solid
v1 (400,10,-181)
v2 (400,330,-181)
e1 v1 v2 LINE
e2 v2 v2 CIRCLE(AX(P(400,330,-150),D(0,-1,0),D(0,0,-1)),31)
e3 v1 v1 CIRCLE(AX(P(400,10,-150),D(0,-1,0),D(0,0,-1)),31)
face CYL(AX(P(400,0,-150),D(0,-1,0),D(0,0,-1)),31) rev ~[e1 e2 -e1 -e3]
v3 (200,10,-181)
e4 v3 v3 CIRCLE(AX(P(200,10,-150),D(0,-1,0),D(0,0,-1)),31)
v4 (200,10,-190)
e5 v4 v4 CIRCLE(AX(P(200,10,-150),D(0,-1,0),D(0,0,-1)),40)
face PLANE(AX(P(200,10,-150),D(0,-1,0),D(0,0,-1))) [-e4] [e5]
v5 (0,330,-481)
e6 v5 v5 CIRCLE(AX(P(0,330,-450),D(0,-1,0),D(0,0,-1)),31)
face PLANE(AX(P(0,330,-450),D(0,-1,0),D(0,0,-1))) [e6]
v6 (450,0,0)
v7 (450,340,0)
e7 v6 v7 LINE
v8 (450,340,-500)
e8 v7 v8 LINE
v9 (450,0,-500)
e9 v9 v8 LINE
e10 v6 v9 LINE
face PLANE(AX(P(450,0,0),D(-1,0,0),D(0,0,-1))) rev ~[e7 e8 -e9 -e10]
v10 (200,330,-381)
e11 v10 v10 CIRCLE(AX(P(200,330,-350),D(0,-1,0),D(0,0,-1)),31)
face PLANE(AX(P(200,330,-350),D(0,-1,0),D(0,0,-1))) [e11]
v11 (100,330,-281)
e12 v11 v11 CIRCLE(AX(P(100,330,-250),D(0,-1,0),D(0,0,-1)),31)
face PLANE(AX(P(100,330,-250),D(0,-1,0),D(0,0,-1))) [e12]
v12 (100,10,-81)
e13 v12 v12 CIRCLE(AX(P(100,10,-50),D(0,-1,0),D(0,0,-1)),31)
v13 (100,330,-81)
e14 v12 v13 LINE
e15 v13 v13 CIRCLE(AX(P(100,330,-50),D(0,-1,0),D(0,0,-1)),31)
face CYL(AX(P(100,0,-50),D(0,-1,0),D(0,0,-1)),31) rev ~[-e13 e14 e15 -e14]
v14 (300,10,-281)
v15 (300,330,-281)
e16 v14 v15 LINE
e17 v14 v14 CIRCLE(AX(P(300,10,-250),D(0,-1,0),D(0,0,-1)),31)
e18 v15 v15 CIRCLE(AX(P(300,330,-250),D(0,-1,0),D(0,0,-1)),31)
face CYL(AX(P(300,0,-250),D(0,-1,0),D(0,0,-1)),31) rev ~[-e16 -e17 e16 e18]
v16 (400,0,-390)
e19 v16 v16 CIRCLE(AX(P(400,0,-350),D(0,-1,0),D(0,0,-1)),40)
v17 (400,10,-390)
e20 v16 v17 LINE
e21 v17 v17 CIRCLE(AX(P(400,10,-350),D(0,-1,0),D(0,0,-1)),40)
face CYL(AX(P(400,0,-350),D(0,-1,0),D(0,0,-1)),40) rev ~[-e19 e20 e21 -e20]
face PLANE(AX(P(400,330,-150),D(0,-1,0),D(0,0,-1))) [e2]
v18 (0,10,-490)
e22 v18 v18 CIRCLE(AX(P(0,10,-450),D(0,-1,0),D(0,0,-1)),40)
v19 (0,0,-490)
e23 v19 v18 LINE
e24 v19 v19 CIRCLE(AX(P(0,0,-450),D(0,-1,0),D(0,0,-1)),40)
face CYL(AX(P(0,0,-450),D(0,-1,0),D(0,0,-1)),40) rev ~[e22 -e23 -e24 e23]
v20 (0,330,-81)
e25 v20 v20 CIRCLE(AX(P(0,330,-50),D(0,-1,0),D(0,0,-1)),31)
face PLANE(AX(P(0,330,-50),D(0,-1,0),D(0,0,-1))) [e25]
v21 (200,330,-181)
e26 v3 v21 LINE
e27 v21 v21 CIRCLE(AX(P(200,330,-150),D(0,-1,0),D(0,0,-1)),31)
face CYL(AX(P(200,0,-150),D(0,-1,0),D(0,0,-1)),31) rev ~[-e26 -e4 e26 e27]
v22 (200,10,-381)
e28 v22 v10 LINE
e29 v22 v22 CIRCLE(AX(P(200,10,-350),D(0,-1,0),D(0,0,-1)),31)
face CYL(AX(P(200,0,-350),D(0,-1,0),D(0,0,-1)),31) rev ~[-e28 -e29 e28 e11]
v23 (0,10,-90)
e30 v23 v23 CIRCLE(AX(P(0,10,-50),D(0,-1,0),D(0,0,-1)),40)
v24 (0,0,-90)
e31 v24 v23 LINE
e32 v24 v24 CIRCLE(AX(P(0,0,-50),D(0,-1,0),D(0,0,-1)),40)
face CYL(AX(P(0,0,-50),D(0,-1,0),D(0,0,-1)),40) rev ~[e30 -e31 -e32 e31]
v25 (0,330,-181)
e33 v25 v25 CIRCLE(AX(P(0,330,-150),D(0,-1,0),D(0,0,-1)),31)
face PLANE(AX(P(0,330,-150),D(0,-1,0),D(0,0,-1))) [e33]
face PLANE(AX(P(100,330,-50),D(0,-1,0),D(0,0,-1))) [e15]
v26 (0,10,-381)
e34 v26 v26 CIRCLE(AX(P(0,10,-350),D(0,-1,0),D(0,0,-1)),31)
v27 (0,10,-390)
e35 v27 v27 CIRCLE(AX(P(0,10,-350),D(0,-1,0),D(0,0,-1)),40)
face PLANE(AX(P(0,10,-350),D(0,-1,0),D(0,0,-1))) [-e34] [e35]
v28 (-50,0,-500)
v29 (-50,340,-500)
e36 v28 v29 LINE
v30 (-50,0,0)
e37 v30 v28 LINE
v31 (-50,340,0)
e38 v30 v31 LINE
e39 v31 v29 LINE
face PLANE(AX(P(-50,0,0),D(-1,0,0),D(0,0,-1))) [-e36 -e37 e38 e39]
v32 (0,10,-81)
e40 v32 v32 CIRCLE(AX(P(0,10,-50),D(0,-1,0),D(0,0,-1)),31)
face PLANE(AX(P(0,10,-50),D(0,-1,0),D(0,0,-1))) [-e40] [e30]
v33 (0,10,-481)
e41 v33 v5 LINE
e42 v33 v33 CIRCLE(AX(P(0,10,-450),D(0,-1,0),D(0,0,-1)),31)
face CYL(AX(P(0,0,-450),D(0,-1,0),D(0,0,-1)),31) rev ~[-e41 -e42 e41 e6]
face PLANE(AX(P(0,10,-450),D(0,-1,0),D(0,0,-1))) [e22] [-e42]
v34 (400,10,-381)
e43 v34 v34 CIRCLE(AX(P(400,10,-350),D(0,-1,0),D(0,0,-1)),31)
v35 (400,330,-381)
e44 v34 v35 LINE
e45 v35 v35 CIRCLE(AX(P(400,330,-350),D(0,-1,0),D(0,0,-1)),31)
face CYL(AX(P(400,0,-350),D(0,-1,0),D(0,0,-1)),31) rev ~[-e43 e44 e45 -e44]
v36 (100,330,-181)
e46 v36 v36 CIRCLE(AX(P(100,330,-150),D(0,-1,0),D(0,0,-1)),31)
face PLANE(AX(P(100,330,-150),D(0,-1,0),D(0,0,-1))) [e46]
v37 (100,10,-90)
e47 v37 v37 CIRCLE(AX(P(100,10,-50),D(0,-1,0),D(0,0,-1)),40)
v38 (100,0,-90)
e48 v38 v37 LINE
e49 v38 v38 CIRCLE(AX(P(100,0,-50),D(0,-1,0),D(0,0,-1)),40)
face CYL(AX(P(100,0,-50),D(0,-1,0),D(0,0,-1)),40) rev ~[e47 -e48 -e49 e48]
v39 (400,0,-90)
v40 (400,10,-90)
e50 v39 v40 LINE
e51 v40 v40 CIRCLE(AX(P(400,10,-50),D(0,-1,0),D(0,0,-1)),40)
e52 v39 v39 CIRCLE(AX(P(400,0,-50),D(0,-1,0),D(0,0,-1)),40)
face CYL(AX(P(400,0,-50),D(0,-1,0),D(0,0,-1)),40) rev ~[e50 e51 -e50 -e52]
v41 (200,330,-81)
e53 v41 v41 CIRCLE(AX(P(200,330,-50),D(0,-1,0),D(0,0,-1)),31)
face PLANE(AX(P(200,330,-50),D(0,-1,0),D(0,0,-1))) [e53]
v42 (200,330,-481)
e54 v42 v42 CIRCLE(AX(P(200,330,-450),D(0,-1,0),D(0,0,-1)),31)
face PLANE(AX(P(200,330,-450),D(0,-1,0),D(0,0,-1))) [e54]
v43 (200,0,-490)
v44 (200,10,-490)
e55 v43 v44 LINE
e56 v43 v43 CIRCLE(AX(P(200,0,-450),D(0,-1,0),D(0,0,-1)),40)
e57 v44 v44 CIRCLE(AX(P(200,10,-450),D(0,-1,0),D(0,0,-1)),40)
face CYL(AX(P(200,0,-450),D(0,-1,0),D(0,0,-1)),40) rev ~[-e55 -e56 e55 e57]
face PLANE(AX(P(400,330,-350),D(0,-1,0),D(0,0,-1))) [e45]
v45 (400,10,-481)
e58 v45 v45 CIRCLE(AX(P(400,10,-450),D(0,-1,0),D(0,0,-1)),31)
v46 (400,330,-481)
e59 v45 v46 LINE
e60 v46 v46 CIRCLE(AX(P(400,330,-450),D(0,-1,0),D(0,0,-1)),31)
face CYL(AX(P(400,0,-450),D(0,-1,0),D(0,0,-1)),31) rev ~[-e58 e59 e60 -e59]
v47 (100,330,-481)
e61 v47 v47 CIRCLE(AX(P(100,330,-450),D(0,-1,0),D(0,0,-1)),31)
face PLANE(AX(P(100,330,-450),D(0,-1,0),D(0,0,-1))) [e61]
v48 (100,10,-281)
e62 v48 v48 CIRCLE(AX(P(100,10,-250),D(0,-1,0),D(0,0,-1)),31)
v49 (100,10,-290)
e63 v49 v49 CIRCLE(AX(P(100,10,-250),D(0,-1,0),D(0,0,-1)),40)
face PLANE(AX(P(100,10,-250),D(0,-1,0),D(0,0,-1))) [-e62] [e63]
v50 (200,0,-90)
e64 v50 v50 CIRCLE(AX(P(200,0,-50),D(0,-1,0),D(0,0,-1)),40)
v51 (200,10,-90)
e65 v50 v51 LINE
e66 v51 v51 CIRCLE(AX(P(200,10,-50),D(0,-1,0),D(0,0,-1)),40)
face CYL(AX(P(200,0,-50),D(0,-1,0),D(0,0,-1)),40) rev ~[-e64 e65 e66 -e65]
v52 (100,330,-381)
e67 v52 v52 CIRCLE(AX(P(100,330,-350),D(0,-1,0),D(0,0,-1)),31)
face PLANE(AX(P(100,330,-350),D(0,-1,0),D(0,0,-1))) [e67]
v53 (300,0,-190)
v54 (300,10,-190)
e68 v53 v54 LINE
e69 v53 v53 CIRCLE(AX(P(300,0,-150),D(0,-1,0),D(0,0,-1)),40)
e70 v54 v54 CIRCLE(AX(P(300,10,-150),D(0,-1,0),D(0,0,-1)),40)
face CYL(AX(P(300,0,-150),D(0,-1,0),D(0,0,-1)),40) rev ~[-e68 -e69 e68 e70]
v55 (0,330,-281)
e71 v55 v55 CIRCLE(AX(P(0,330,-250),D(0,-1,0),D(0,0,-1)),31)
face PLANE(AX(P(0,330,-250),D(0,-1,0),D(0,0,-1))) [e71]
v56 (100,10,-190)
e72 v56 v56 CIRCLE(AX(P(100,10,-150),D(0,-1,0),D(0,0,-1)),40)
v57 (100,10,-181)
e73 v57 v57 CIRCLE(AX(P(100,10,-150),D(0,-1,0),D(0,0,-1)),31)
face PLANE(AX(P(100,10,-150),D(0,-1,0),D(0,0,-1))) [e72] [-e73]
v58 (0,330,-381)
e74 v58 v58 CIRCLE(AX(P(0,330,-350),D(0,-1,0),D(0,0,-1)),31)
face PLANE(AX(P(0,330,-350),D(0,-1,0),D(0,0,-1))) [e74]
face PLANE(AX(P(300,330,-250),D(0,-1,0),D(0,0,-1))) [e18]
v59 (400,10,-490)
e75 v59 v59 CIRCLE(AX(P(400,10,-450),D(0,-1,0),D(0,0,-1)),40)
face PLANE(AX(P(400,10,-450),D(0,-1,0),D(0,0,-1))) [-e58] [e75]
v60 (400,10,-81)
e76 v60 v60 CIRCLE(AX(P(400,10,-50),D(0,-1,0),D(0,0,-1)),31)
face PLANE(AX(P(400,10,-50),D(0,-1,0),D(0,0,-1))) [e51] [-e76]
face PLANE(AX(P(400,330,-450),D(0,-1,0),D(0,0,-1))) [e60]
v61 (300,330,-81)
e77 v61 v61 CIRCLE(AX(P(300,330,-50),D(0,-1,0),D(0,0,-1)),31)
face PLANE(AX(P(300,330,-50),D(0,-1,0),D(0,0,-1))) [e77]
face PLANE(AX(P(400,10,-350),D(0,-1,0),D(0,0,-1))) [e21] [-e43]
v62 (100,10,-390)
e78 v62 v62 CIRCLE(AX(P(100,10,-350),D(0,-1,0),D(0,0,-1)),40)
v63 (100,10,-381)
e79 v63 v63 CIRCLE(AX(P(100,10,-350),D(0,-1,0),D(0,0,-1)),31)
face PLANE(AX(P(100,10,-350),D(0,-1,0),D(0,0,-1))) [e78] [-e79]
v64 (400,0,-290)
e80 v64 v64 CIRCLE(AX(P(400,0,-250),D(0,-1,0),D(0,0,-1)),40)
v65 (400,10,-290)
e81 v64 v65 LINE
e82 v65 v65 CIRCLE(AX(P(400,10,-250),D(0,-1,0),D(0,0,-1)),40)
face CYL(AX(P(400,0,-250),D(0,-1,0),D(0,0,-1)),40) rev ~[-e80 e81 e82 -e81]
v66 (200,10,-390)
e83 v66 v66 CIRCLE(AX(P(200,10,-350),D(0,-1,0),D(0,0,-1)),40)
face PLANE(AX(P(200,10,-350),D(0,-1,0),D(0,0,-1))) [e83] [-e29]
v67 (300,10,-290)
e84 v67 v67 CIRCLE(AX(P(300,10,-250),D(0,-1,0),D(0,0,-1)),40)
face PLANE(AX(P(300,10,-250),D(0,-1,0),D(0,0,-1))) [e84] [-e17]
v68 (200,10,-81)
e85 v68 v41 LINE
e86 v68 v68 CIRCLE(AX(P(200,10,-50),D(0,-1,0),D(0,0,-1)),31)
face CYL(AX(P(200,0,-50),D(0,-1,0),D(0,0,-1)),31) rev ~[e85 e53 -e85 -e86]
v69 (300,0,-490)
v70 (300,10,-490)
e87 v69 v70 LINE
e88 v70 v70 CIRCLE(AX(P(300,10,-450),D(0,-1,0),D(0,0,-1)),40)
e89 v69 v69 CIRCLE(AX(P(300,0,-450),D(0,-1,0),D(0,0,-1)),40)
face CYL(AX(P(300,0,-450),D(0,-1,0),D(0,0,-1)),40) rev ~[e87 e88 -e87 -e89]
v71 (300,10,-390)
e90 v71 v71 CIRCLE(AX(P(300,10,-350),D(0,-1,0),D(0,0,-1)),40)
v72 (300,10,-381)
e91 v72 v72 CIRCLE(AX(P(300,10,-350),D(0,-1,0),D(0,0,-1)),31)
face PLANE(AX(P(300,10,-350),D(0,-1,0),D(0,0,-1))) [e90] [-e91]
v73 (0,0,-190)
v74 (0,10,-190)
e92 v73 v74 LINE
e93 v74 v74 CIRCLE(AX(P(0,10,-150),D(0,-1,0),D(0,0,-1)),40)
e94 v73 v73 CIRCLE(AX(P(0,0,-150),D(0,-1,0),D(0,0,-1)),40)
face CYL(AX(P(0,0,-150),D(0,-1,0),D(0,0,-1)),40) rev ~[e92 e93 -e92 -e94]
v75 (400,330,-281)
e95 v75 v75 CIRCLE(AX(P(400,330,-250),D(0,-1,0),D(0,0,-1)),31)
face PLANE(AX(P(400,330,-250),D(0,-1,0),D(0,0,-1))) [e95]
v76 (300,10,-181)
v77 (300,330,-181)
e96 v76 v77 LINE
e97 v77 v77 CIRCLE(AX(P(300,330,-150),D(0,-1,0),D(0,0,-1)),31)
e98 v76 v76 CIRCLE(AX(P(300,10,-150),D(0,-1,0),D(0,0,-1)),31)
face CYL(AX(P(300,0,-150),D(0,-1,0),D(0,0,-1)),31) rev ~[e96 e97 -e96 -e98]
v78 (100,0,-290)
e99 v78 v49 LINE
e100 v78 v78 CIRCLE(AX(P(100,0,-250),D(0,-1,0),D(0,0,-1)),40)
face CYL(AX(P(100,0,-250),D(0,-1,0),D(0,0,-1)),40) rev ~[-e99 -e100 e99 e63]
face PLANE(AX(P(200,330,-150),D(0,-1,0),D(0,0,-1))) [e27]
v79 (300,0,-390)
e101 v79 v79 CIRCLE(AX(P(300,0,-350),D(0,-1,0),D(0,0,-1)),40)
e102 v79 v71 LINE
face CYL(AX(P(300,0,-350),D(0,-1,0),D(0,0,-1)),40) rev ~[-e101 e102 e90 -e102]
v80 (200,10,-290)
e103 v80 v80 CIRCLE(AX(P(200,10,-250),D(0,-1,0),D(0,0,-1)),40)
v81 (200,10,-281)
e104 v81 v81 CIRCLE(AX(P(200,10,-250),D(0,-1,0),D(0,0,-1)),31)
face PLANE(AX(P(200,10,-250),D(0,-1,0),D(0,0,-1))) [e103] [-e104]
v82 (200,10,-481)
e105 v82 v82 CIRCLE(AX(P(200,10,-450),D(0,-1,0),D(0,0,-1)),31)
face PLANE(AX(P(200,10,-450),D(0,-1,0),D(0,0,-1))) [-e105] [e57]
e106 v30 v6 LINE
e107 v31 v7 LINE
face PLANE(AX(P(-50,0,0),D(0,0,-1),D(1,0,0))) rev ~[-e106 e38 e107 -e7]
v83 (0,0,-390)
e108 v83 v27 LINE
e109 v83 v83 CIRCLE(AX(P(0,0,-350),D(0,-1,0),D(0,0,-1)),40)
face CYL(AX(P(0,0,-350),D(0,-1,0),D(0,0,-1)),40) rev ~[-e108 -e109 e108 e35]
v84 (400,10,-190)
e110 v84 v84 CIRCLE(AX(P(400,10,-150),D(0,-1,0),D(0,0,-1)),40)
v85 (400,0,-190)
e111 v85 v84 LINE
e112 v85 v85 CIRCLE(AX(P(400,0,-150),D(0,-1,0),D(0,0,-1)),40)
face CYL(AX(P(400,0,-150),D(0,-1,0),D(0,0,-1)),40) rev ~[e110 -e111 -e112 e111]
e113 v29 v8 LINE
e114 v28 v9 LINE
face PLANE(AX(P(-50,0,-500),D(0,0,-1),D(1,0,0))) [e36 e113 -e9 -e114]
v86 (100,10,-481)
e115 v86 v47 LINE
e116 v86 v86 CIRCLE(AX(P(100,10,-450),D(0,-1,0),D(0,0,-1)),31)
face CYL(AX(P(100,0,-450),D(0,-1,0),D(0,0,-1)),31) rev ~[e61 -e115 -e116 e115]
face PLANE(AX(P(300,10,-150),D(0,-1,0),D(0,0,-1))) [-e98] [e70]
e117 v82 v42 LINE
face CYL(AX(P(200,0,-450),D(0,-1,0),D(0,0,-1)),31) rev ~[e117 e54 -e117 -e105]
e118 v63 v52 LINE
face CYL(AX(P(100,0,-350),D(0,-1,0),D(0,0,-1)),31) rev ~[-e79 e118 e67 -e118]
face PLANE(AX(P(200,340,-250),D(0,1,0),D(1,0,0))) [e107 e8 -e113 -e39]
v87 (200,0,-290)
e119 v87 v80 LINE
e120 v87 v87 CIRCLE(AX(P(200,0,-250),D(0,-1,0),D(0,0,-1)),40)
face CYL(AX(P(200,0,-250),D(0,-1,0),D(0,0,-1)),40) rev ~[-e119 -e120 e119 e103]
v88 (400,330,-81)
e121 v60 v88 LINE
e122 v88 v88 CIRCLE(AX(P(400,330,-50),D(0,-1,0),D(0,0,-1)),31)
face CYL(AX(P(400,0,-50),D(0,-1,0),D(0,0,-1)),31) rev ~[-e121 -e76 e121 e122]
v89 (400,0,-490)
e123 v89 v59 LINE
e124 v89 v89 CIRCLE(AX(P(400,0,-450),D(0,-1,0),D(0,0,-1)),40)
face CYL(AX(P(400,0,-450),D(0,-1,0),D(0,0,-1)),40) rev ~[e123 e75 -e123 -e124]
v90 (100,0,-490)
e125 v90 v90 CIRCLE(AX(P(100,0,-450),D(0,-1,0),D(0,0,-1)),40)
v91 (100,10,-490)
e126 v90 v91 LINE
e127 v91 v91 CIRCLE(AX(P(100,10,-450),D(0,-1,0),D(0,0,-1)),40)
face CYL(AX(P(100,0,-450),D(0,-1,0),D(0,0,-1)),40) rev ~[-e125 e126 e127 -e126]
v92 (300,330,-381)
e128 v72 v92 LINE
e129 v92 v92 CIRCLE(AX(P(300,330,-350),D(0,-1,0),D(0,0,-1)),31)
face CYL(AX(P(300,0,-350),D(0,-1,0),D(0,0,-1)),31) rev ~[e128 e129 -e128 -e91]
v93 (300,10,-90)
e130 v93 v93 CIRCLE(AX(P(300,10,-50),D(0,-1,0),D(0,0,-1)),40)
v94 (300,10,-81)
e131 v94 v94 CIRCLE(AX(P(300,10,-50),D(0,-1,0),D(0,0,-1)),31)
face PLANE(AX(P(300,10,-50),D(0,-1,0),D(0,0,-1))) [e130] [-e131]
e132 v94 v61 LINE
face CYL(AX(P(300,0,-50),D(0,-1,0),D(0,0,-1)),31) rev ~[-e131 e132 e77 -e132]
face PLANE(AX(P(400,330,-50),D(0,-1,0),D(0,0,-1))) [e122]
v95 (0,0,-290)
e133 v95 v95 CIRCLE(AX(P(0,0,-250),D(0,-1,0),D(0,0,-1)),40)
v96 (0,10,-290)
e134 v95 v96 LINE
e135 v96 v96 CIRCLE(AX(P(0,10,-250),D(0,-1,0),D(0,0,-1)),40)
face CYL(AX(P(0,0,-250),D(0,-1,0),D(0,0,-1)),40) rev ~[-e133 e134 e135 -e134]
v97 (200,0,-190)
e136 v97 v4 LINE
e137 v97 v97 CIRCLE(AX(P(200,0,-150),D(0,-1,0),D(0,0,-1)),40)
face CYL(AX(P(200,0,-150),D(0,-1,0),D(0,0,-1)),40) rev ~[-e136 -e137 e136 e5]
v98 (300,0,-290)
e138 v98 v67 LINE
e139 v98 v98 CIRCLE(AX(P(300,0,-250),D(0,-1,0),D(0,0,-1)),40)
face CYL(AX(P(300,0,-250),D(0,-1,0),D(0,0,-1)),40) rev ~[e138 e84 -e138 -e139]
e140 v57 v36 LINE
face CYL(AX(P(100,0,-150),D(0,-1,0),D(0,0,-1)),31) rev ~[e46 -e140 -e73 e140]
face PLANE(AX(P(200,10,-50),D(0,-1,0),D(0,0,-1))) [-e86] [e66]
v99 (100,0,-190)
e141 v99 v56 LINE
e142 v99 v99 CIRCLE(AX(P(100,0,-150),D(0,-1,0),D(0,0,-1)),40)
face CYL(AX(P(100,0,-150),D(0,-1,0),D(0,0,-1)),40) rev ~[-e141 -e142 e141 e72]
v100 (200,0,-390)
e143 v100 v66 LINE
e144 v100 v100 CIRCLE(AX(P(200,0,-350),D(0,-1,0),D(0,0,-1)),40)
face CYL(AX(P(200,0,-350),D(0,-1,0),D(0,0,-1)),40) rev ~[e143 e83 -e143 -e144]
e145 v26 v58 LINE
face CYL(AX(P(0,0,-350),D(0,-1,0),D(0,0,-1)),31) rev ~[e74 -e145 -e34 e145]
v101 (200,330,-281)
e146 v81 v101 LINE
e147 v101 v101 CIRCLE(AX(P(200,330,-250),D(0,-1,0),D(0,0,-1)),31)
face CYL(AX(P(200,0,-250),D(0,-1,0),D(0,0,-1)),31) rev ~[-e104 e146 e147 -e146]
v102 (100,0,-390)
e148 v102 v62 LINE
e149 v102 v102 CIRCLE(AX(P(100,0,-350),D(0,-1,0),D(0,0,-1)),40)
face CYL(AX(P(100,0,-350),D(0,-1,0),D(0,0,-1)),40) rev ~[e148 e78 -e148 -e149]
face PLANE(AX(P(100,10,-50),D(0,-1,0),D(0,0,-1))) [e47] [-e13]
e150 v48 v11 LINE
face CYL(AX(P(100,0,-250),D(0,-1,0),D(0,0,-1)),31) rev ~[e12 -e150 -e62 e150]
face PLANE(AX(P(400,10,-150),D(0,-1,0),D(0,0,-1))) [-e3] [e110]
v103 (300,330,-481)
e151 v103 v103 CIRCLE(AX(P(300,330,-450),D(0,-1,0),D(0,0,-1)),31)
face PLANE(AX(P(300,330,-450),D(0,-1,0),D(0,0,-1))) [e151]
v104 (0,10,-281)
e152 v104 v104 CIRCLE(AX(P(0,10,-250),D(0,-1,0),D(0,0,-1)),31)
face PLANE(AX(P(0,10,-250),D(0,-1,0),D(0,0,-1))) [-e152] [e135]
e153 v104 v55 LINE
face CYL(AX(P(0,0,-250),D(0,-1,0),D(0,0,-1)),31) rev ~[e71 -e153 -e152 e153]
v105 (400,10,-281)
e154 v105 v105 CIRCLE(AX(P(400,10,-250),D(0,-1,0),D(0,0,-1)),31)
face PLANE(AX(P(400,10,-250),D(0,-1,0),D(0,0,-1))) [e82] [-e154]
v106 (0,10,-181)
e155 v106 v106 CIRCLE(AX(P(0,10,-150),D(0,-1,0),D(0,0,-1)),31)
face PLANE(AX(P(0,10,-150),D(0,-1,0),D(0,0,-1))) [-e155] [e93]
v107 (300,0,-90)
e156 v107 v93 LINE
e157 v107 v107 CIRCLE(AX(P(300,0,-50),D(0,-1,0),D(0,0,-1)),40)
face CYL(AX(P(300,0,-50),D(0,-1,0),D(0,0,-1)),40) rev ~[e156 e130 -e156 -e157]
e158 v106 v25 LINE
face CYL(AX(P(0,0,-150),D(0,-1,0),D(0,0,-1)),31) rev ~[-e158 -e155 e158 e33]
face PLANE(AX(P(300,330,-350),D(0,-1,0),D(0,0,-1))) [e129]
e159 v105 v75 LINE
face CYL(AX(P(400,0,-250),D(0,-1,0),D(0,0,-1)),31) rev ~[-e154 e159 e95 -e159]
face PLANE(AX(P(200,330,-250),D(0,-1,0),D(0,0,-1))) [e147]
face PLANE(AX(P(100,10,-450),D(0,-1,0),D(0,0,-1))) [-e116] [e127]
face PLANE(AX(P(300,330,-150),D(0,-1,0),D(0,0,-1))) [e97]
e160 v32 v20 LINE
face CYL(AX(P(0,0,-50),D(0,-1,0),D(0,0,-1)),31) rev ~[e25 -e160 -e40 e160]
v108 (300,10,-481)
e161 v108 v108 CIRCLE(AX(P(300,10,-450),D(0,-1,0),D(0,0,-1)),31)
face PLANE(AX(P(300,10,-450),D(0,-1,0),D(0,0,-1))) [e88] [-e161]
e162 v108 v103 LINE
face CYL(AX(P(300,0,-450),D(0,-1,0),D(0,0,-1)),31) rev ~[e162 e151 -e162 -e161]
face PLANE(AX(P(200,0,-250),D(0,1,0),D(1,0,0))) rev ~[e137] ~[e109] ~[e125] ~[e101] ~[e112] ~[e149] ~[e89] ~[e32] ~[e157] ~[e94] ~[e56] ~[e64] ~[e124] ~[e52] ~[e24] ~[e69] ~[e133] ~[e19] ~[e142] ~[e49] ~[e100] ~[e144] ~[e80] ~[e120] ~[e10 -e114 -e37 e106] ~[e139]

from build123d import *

# Parameters (mm, degrees)
SKETCH1_W           = 500
SKETCH1_H           = 500
BOSS_EXTRUDE1_DEPTH = 340
SKETCH2_R           = 31
CUT_EXTRUDE1_DEPTH  = 330
SKETCH3_R           = 40
CUT_EXTRUDE3_DEPTH  = 10


with BuildPart() as part:
    # Sketch1 → Boss-Extrude1 (new body)
    with BuildSketch(Plane(origin=(0, 0, 0), x_dir=(1, 0, 0), z_dir=(0, 1, 0))):
        with Locations((200, 250)):
            Rectangle(SKETCH1_W, SKETCH1_H)
    extrude(amount=BOSS_EXTRUDE1_DEPTH)

    # Sketch2 → Cut-Extrude1 (cut)
    with BuildSketch(Plane(origin=(0, 0, 0), x_dir=(-1, 0, 0), z_dir=(0, -1, 0))):
        with Locations(Location((0, 450, 0), (0, 0, 90))):
            Circle(SKETCH2_R)
        with Locations(Location((0, 350, 0), (0, 0, 90))):
            Circle(SKETCH2_R)
        with Locations(Location((0, 250, 0), (0, 0, 90))):
            Circle(SKETCH2_R)
        with Locations(Location((0, 50, 0), (0, 0, 90))):
            Circle(SKETCH2_R)
        with Locations(Location((-100, 450, 0), (0, 0, 90))):
            Circle(SKETCH2_R)
        with Locations(Location((-100, 350, 0), (0, 0, 90))):
            Circle(SKETCH2_R)
        with Locations(Location((-100, 250, 0), (0, 0, 90))):
            Circle(SKETCH2_R)
        with Locations(Location((-100, 150, 0), (0, 0, 90))):
            Circle(SKETCH2_R)
        with Locations(Location((-100, 50, 0), (0, 0, 90))):
            Circle(SKETCH2_R)
        with Locations(Location((-200, 450, 0), (0, 0, 90))):
            Circle(SKETCH2_R)
        with Locations(Location((-200, 350, 0), (0, 0, 90))):
            Circle(SKETCH2_R)
        with Locations(Location((-200, 250, 0), (0, 0, 90))):
            Circle(SKETCH2_R)
        with Locations(Location((-200, 150, 0), (0, 0, 90))):
            Circle(SKETCH2_R)
        with Locations(Location((-200, 50, 0), (0, 0, 90))):
            Circle(SKETCH2_R)
        with Locations(Location((-300, 450, 0), (0, 0, 90))):
            Circle(SKETCH2_R)
        with Locations(Location((-300, 350, 0), (0, 0, 90))):
            Circle(SKETCH2_R)
        with Locations(Location((-300, 250, 0), (0, 0, 90))):
            Circle(SKETCH2_R)
        with Locations(Location((-300, 150, 0), (0, 0, 90))):
            Circle(SKETCH2_R)
        with Locations(Location((-300, 50, 0), (0, 0, 90))):
            Circle(SKETCH2_R)
        with Locations(Location((-400, 450, 0), (0, 0, 90))):
            Circle(SKETCH2_R)
        with Locations(Location((-400, 350, 0), (0, 0, 90))):
            Circle(SKETCH2_R)
        with Locations(Location((-400, 250, 0), (0, 0, 90))):
            Circle(SKETCH2_R)
        with Locations(Location((-400, 150, 0), (0, 0, 90))):
            Circle(SKETCH2_R)
        with Locations(Location((-400, 50, 0), (0, 0, 90))):
            Circle(SKETCH2_R)
        with Locations(Location((0, 150, 0), (0, 0, 90))):
            Circle(SKETCH2_R)
    extrude(amount=-CUT_EXTRUDE1_DEPTH, mode=Mode.SUBTRACT)

    # Sketch3 → Cut-Extrude3 (cut)
    with BuildSketch(Plane(origin=(0, 0, 0), x_dir=(-1, 0, 0), z_dir=(0, -1, 0))):
        with Locations(Location((-400, 450, 0), (0, 0, 90))):
            Circle(SKETCH3_R)
        with Locations(Location((-300, 450, 0), (0, 0, 90))):
            Circle(SKETCH3_R)
        with Locations(Location((-200, 450, 0), (0, 0, 90))):
            Circle(SKETCH3_R)
        with Locations(Location((-100, 450, 0), (0, 0, 90))):
            Circle(SKETCH3_R)
        with Locations(Location((0, 450, 0), (0, 0, 90))):
            Circle(SKETCH3_R)
        with Locations(Location((-300, 350, 0), (0, 0, 90))):
            Circle(SKETCH3_R)
        with Locations(Location((-200, 350, 0), (0, 0, 90))):
            Circle(SKETCH3_R)
        with Locations(Location((-100, 350, 0), (0, 0, 90))):
            Circle(SKETCH3_R)
        with Locations(Location((0, 350, 0), (0, 0, 90))):
            Circle(SKETCH3_R)
        with Locations(Location((-300, 250, 0), (0, 0, 90))):
            Circle(SKETCH3_R)
        with Locations(Location((-200, 250, 0), (0, 0, 90))):
            Circle(SKETCH3_R)
        with Locations(Location((-100, 250, 0), (0, 0, 90))):
            Circle(SKETCH3_R)
        with Locations(Location((0, 250, 0), (0, 0, 90))):
            Circle(SKETCH3_R)
        with Locations(Location((-300, 150, 0), (0, 0, 90))):
            Circle(SKETCH3_R)
        with Locations(Location((-200, 150, 0), (0, 0, 90))):
            Circle(SKETCH3_R)
        with Locations(Location((-100, 150, 0), (0, 0, 90))):
            Circle(SKETCH3_R)
        with Locations(Location((0, 150, 0), (0, 0, 90))):
            Circle(SKETCH3_R)
        with Locations(Location((-300, 50, 0), (0, 0, 90))):
            Circle(SKETCH3_R)
        with Locations(Location((-200, 50, 0), (0, 0, 90))):
            Circle(SKETCH3_R)
        with Locations(Location((-100, 50, 0), (0, 0, 90))):
            Circle(SKETCH3_R)
        with Locations(Location((0, 50, 0), (0, 0, 90))):
            Circle(SKETCH3_R)
        with Locations(Location((-400, 350, 0), (0, 0, 90))):
            Circle(SKETCH3_R)
        with Locations(Location((-400, 250, 0), (0, 0, 90))):
            Circle(SKETCH3_R)
        with Locations(Location((-400, 150, 0), (0, 0, 90))):
            Circle(SKETCH3_R)
        with Locations(Location((-400, 50, 0), (0, 0, 90))):
            Circle(SKETCH3_R)
    extrude(amount=-CUT_EXTRUDE3_DEPTH, mode=Mode.SUBTRACT)


solid = part.part
